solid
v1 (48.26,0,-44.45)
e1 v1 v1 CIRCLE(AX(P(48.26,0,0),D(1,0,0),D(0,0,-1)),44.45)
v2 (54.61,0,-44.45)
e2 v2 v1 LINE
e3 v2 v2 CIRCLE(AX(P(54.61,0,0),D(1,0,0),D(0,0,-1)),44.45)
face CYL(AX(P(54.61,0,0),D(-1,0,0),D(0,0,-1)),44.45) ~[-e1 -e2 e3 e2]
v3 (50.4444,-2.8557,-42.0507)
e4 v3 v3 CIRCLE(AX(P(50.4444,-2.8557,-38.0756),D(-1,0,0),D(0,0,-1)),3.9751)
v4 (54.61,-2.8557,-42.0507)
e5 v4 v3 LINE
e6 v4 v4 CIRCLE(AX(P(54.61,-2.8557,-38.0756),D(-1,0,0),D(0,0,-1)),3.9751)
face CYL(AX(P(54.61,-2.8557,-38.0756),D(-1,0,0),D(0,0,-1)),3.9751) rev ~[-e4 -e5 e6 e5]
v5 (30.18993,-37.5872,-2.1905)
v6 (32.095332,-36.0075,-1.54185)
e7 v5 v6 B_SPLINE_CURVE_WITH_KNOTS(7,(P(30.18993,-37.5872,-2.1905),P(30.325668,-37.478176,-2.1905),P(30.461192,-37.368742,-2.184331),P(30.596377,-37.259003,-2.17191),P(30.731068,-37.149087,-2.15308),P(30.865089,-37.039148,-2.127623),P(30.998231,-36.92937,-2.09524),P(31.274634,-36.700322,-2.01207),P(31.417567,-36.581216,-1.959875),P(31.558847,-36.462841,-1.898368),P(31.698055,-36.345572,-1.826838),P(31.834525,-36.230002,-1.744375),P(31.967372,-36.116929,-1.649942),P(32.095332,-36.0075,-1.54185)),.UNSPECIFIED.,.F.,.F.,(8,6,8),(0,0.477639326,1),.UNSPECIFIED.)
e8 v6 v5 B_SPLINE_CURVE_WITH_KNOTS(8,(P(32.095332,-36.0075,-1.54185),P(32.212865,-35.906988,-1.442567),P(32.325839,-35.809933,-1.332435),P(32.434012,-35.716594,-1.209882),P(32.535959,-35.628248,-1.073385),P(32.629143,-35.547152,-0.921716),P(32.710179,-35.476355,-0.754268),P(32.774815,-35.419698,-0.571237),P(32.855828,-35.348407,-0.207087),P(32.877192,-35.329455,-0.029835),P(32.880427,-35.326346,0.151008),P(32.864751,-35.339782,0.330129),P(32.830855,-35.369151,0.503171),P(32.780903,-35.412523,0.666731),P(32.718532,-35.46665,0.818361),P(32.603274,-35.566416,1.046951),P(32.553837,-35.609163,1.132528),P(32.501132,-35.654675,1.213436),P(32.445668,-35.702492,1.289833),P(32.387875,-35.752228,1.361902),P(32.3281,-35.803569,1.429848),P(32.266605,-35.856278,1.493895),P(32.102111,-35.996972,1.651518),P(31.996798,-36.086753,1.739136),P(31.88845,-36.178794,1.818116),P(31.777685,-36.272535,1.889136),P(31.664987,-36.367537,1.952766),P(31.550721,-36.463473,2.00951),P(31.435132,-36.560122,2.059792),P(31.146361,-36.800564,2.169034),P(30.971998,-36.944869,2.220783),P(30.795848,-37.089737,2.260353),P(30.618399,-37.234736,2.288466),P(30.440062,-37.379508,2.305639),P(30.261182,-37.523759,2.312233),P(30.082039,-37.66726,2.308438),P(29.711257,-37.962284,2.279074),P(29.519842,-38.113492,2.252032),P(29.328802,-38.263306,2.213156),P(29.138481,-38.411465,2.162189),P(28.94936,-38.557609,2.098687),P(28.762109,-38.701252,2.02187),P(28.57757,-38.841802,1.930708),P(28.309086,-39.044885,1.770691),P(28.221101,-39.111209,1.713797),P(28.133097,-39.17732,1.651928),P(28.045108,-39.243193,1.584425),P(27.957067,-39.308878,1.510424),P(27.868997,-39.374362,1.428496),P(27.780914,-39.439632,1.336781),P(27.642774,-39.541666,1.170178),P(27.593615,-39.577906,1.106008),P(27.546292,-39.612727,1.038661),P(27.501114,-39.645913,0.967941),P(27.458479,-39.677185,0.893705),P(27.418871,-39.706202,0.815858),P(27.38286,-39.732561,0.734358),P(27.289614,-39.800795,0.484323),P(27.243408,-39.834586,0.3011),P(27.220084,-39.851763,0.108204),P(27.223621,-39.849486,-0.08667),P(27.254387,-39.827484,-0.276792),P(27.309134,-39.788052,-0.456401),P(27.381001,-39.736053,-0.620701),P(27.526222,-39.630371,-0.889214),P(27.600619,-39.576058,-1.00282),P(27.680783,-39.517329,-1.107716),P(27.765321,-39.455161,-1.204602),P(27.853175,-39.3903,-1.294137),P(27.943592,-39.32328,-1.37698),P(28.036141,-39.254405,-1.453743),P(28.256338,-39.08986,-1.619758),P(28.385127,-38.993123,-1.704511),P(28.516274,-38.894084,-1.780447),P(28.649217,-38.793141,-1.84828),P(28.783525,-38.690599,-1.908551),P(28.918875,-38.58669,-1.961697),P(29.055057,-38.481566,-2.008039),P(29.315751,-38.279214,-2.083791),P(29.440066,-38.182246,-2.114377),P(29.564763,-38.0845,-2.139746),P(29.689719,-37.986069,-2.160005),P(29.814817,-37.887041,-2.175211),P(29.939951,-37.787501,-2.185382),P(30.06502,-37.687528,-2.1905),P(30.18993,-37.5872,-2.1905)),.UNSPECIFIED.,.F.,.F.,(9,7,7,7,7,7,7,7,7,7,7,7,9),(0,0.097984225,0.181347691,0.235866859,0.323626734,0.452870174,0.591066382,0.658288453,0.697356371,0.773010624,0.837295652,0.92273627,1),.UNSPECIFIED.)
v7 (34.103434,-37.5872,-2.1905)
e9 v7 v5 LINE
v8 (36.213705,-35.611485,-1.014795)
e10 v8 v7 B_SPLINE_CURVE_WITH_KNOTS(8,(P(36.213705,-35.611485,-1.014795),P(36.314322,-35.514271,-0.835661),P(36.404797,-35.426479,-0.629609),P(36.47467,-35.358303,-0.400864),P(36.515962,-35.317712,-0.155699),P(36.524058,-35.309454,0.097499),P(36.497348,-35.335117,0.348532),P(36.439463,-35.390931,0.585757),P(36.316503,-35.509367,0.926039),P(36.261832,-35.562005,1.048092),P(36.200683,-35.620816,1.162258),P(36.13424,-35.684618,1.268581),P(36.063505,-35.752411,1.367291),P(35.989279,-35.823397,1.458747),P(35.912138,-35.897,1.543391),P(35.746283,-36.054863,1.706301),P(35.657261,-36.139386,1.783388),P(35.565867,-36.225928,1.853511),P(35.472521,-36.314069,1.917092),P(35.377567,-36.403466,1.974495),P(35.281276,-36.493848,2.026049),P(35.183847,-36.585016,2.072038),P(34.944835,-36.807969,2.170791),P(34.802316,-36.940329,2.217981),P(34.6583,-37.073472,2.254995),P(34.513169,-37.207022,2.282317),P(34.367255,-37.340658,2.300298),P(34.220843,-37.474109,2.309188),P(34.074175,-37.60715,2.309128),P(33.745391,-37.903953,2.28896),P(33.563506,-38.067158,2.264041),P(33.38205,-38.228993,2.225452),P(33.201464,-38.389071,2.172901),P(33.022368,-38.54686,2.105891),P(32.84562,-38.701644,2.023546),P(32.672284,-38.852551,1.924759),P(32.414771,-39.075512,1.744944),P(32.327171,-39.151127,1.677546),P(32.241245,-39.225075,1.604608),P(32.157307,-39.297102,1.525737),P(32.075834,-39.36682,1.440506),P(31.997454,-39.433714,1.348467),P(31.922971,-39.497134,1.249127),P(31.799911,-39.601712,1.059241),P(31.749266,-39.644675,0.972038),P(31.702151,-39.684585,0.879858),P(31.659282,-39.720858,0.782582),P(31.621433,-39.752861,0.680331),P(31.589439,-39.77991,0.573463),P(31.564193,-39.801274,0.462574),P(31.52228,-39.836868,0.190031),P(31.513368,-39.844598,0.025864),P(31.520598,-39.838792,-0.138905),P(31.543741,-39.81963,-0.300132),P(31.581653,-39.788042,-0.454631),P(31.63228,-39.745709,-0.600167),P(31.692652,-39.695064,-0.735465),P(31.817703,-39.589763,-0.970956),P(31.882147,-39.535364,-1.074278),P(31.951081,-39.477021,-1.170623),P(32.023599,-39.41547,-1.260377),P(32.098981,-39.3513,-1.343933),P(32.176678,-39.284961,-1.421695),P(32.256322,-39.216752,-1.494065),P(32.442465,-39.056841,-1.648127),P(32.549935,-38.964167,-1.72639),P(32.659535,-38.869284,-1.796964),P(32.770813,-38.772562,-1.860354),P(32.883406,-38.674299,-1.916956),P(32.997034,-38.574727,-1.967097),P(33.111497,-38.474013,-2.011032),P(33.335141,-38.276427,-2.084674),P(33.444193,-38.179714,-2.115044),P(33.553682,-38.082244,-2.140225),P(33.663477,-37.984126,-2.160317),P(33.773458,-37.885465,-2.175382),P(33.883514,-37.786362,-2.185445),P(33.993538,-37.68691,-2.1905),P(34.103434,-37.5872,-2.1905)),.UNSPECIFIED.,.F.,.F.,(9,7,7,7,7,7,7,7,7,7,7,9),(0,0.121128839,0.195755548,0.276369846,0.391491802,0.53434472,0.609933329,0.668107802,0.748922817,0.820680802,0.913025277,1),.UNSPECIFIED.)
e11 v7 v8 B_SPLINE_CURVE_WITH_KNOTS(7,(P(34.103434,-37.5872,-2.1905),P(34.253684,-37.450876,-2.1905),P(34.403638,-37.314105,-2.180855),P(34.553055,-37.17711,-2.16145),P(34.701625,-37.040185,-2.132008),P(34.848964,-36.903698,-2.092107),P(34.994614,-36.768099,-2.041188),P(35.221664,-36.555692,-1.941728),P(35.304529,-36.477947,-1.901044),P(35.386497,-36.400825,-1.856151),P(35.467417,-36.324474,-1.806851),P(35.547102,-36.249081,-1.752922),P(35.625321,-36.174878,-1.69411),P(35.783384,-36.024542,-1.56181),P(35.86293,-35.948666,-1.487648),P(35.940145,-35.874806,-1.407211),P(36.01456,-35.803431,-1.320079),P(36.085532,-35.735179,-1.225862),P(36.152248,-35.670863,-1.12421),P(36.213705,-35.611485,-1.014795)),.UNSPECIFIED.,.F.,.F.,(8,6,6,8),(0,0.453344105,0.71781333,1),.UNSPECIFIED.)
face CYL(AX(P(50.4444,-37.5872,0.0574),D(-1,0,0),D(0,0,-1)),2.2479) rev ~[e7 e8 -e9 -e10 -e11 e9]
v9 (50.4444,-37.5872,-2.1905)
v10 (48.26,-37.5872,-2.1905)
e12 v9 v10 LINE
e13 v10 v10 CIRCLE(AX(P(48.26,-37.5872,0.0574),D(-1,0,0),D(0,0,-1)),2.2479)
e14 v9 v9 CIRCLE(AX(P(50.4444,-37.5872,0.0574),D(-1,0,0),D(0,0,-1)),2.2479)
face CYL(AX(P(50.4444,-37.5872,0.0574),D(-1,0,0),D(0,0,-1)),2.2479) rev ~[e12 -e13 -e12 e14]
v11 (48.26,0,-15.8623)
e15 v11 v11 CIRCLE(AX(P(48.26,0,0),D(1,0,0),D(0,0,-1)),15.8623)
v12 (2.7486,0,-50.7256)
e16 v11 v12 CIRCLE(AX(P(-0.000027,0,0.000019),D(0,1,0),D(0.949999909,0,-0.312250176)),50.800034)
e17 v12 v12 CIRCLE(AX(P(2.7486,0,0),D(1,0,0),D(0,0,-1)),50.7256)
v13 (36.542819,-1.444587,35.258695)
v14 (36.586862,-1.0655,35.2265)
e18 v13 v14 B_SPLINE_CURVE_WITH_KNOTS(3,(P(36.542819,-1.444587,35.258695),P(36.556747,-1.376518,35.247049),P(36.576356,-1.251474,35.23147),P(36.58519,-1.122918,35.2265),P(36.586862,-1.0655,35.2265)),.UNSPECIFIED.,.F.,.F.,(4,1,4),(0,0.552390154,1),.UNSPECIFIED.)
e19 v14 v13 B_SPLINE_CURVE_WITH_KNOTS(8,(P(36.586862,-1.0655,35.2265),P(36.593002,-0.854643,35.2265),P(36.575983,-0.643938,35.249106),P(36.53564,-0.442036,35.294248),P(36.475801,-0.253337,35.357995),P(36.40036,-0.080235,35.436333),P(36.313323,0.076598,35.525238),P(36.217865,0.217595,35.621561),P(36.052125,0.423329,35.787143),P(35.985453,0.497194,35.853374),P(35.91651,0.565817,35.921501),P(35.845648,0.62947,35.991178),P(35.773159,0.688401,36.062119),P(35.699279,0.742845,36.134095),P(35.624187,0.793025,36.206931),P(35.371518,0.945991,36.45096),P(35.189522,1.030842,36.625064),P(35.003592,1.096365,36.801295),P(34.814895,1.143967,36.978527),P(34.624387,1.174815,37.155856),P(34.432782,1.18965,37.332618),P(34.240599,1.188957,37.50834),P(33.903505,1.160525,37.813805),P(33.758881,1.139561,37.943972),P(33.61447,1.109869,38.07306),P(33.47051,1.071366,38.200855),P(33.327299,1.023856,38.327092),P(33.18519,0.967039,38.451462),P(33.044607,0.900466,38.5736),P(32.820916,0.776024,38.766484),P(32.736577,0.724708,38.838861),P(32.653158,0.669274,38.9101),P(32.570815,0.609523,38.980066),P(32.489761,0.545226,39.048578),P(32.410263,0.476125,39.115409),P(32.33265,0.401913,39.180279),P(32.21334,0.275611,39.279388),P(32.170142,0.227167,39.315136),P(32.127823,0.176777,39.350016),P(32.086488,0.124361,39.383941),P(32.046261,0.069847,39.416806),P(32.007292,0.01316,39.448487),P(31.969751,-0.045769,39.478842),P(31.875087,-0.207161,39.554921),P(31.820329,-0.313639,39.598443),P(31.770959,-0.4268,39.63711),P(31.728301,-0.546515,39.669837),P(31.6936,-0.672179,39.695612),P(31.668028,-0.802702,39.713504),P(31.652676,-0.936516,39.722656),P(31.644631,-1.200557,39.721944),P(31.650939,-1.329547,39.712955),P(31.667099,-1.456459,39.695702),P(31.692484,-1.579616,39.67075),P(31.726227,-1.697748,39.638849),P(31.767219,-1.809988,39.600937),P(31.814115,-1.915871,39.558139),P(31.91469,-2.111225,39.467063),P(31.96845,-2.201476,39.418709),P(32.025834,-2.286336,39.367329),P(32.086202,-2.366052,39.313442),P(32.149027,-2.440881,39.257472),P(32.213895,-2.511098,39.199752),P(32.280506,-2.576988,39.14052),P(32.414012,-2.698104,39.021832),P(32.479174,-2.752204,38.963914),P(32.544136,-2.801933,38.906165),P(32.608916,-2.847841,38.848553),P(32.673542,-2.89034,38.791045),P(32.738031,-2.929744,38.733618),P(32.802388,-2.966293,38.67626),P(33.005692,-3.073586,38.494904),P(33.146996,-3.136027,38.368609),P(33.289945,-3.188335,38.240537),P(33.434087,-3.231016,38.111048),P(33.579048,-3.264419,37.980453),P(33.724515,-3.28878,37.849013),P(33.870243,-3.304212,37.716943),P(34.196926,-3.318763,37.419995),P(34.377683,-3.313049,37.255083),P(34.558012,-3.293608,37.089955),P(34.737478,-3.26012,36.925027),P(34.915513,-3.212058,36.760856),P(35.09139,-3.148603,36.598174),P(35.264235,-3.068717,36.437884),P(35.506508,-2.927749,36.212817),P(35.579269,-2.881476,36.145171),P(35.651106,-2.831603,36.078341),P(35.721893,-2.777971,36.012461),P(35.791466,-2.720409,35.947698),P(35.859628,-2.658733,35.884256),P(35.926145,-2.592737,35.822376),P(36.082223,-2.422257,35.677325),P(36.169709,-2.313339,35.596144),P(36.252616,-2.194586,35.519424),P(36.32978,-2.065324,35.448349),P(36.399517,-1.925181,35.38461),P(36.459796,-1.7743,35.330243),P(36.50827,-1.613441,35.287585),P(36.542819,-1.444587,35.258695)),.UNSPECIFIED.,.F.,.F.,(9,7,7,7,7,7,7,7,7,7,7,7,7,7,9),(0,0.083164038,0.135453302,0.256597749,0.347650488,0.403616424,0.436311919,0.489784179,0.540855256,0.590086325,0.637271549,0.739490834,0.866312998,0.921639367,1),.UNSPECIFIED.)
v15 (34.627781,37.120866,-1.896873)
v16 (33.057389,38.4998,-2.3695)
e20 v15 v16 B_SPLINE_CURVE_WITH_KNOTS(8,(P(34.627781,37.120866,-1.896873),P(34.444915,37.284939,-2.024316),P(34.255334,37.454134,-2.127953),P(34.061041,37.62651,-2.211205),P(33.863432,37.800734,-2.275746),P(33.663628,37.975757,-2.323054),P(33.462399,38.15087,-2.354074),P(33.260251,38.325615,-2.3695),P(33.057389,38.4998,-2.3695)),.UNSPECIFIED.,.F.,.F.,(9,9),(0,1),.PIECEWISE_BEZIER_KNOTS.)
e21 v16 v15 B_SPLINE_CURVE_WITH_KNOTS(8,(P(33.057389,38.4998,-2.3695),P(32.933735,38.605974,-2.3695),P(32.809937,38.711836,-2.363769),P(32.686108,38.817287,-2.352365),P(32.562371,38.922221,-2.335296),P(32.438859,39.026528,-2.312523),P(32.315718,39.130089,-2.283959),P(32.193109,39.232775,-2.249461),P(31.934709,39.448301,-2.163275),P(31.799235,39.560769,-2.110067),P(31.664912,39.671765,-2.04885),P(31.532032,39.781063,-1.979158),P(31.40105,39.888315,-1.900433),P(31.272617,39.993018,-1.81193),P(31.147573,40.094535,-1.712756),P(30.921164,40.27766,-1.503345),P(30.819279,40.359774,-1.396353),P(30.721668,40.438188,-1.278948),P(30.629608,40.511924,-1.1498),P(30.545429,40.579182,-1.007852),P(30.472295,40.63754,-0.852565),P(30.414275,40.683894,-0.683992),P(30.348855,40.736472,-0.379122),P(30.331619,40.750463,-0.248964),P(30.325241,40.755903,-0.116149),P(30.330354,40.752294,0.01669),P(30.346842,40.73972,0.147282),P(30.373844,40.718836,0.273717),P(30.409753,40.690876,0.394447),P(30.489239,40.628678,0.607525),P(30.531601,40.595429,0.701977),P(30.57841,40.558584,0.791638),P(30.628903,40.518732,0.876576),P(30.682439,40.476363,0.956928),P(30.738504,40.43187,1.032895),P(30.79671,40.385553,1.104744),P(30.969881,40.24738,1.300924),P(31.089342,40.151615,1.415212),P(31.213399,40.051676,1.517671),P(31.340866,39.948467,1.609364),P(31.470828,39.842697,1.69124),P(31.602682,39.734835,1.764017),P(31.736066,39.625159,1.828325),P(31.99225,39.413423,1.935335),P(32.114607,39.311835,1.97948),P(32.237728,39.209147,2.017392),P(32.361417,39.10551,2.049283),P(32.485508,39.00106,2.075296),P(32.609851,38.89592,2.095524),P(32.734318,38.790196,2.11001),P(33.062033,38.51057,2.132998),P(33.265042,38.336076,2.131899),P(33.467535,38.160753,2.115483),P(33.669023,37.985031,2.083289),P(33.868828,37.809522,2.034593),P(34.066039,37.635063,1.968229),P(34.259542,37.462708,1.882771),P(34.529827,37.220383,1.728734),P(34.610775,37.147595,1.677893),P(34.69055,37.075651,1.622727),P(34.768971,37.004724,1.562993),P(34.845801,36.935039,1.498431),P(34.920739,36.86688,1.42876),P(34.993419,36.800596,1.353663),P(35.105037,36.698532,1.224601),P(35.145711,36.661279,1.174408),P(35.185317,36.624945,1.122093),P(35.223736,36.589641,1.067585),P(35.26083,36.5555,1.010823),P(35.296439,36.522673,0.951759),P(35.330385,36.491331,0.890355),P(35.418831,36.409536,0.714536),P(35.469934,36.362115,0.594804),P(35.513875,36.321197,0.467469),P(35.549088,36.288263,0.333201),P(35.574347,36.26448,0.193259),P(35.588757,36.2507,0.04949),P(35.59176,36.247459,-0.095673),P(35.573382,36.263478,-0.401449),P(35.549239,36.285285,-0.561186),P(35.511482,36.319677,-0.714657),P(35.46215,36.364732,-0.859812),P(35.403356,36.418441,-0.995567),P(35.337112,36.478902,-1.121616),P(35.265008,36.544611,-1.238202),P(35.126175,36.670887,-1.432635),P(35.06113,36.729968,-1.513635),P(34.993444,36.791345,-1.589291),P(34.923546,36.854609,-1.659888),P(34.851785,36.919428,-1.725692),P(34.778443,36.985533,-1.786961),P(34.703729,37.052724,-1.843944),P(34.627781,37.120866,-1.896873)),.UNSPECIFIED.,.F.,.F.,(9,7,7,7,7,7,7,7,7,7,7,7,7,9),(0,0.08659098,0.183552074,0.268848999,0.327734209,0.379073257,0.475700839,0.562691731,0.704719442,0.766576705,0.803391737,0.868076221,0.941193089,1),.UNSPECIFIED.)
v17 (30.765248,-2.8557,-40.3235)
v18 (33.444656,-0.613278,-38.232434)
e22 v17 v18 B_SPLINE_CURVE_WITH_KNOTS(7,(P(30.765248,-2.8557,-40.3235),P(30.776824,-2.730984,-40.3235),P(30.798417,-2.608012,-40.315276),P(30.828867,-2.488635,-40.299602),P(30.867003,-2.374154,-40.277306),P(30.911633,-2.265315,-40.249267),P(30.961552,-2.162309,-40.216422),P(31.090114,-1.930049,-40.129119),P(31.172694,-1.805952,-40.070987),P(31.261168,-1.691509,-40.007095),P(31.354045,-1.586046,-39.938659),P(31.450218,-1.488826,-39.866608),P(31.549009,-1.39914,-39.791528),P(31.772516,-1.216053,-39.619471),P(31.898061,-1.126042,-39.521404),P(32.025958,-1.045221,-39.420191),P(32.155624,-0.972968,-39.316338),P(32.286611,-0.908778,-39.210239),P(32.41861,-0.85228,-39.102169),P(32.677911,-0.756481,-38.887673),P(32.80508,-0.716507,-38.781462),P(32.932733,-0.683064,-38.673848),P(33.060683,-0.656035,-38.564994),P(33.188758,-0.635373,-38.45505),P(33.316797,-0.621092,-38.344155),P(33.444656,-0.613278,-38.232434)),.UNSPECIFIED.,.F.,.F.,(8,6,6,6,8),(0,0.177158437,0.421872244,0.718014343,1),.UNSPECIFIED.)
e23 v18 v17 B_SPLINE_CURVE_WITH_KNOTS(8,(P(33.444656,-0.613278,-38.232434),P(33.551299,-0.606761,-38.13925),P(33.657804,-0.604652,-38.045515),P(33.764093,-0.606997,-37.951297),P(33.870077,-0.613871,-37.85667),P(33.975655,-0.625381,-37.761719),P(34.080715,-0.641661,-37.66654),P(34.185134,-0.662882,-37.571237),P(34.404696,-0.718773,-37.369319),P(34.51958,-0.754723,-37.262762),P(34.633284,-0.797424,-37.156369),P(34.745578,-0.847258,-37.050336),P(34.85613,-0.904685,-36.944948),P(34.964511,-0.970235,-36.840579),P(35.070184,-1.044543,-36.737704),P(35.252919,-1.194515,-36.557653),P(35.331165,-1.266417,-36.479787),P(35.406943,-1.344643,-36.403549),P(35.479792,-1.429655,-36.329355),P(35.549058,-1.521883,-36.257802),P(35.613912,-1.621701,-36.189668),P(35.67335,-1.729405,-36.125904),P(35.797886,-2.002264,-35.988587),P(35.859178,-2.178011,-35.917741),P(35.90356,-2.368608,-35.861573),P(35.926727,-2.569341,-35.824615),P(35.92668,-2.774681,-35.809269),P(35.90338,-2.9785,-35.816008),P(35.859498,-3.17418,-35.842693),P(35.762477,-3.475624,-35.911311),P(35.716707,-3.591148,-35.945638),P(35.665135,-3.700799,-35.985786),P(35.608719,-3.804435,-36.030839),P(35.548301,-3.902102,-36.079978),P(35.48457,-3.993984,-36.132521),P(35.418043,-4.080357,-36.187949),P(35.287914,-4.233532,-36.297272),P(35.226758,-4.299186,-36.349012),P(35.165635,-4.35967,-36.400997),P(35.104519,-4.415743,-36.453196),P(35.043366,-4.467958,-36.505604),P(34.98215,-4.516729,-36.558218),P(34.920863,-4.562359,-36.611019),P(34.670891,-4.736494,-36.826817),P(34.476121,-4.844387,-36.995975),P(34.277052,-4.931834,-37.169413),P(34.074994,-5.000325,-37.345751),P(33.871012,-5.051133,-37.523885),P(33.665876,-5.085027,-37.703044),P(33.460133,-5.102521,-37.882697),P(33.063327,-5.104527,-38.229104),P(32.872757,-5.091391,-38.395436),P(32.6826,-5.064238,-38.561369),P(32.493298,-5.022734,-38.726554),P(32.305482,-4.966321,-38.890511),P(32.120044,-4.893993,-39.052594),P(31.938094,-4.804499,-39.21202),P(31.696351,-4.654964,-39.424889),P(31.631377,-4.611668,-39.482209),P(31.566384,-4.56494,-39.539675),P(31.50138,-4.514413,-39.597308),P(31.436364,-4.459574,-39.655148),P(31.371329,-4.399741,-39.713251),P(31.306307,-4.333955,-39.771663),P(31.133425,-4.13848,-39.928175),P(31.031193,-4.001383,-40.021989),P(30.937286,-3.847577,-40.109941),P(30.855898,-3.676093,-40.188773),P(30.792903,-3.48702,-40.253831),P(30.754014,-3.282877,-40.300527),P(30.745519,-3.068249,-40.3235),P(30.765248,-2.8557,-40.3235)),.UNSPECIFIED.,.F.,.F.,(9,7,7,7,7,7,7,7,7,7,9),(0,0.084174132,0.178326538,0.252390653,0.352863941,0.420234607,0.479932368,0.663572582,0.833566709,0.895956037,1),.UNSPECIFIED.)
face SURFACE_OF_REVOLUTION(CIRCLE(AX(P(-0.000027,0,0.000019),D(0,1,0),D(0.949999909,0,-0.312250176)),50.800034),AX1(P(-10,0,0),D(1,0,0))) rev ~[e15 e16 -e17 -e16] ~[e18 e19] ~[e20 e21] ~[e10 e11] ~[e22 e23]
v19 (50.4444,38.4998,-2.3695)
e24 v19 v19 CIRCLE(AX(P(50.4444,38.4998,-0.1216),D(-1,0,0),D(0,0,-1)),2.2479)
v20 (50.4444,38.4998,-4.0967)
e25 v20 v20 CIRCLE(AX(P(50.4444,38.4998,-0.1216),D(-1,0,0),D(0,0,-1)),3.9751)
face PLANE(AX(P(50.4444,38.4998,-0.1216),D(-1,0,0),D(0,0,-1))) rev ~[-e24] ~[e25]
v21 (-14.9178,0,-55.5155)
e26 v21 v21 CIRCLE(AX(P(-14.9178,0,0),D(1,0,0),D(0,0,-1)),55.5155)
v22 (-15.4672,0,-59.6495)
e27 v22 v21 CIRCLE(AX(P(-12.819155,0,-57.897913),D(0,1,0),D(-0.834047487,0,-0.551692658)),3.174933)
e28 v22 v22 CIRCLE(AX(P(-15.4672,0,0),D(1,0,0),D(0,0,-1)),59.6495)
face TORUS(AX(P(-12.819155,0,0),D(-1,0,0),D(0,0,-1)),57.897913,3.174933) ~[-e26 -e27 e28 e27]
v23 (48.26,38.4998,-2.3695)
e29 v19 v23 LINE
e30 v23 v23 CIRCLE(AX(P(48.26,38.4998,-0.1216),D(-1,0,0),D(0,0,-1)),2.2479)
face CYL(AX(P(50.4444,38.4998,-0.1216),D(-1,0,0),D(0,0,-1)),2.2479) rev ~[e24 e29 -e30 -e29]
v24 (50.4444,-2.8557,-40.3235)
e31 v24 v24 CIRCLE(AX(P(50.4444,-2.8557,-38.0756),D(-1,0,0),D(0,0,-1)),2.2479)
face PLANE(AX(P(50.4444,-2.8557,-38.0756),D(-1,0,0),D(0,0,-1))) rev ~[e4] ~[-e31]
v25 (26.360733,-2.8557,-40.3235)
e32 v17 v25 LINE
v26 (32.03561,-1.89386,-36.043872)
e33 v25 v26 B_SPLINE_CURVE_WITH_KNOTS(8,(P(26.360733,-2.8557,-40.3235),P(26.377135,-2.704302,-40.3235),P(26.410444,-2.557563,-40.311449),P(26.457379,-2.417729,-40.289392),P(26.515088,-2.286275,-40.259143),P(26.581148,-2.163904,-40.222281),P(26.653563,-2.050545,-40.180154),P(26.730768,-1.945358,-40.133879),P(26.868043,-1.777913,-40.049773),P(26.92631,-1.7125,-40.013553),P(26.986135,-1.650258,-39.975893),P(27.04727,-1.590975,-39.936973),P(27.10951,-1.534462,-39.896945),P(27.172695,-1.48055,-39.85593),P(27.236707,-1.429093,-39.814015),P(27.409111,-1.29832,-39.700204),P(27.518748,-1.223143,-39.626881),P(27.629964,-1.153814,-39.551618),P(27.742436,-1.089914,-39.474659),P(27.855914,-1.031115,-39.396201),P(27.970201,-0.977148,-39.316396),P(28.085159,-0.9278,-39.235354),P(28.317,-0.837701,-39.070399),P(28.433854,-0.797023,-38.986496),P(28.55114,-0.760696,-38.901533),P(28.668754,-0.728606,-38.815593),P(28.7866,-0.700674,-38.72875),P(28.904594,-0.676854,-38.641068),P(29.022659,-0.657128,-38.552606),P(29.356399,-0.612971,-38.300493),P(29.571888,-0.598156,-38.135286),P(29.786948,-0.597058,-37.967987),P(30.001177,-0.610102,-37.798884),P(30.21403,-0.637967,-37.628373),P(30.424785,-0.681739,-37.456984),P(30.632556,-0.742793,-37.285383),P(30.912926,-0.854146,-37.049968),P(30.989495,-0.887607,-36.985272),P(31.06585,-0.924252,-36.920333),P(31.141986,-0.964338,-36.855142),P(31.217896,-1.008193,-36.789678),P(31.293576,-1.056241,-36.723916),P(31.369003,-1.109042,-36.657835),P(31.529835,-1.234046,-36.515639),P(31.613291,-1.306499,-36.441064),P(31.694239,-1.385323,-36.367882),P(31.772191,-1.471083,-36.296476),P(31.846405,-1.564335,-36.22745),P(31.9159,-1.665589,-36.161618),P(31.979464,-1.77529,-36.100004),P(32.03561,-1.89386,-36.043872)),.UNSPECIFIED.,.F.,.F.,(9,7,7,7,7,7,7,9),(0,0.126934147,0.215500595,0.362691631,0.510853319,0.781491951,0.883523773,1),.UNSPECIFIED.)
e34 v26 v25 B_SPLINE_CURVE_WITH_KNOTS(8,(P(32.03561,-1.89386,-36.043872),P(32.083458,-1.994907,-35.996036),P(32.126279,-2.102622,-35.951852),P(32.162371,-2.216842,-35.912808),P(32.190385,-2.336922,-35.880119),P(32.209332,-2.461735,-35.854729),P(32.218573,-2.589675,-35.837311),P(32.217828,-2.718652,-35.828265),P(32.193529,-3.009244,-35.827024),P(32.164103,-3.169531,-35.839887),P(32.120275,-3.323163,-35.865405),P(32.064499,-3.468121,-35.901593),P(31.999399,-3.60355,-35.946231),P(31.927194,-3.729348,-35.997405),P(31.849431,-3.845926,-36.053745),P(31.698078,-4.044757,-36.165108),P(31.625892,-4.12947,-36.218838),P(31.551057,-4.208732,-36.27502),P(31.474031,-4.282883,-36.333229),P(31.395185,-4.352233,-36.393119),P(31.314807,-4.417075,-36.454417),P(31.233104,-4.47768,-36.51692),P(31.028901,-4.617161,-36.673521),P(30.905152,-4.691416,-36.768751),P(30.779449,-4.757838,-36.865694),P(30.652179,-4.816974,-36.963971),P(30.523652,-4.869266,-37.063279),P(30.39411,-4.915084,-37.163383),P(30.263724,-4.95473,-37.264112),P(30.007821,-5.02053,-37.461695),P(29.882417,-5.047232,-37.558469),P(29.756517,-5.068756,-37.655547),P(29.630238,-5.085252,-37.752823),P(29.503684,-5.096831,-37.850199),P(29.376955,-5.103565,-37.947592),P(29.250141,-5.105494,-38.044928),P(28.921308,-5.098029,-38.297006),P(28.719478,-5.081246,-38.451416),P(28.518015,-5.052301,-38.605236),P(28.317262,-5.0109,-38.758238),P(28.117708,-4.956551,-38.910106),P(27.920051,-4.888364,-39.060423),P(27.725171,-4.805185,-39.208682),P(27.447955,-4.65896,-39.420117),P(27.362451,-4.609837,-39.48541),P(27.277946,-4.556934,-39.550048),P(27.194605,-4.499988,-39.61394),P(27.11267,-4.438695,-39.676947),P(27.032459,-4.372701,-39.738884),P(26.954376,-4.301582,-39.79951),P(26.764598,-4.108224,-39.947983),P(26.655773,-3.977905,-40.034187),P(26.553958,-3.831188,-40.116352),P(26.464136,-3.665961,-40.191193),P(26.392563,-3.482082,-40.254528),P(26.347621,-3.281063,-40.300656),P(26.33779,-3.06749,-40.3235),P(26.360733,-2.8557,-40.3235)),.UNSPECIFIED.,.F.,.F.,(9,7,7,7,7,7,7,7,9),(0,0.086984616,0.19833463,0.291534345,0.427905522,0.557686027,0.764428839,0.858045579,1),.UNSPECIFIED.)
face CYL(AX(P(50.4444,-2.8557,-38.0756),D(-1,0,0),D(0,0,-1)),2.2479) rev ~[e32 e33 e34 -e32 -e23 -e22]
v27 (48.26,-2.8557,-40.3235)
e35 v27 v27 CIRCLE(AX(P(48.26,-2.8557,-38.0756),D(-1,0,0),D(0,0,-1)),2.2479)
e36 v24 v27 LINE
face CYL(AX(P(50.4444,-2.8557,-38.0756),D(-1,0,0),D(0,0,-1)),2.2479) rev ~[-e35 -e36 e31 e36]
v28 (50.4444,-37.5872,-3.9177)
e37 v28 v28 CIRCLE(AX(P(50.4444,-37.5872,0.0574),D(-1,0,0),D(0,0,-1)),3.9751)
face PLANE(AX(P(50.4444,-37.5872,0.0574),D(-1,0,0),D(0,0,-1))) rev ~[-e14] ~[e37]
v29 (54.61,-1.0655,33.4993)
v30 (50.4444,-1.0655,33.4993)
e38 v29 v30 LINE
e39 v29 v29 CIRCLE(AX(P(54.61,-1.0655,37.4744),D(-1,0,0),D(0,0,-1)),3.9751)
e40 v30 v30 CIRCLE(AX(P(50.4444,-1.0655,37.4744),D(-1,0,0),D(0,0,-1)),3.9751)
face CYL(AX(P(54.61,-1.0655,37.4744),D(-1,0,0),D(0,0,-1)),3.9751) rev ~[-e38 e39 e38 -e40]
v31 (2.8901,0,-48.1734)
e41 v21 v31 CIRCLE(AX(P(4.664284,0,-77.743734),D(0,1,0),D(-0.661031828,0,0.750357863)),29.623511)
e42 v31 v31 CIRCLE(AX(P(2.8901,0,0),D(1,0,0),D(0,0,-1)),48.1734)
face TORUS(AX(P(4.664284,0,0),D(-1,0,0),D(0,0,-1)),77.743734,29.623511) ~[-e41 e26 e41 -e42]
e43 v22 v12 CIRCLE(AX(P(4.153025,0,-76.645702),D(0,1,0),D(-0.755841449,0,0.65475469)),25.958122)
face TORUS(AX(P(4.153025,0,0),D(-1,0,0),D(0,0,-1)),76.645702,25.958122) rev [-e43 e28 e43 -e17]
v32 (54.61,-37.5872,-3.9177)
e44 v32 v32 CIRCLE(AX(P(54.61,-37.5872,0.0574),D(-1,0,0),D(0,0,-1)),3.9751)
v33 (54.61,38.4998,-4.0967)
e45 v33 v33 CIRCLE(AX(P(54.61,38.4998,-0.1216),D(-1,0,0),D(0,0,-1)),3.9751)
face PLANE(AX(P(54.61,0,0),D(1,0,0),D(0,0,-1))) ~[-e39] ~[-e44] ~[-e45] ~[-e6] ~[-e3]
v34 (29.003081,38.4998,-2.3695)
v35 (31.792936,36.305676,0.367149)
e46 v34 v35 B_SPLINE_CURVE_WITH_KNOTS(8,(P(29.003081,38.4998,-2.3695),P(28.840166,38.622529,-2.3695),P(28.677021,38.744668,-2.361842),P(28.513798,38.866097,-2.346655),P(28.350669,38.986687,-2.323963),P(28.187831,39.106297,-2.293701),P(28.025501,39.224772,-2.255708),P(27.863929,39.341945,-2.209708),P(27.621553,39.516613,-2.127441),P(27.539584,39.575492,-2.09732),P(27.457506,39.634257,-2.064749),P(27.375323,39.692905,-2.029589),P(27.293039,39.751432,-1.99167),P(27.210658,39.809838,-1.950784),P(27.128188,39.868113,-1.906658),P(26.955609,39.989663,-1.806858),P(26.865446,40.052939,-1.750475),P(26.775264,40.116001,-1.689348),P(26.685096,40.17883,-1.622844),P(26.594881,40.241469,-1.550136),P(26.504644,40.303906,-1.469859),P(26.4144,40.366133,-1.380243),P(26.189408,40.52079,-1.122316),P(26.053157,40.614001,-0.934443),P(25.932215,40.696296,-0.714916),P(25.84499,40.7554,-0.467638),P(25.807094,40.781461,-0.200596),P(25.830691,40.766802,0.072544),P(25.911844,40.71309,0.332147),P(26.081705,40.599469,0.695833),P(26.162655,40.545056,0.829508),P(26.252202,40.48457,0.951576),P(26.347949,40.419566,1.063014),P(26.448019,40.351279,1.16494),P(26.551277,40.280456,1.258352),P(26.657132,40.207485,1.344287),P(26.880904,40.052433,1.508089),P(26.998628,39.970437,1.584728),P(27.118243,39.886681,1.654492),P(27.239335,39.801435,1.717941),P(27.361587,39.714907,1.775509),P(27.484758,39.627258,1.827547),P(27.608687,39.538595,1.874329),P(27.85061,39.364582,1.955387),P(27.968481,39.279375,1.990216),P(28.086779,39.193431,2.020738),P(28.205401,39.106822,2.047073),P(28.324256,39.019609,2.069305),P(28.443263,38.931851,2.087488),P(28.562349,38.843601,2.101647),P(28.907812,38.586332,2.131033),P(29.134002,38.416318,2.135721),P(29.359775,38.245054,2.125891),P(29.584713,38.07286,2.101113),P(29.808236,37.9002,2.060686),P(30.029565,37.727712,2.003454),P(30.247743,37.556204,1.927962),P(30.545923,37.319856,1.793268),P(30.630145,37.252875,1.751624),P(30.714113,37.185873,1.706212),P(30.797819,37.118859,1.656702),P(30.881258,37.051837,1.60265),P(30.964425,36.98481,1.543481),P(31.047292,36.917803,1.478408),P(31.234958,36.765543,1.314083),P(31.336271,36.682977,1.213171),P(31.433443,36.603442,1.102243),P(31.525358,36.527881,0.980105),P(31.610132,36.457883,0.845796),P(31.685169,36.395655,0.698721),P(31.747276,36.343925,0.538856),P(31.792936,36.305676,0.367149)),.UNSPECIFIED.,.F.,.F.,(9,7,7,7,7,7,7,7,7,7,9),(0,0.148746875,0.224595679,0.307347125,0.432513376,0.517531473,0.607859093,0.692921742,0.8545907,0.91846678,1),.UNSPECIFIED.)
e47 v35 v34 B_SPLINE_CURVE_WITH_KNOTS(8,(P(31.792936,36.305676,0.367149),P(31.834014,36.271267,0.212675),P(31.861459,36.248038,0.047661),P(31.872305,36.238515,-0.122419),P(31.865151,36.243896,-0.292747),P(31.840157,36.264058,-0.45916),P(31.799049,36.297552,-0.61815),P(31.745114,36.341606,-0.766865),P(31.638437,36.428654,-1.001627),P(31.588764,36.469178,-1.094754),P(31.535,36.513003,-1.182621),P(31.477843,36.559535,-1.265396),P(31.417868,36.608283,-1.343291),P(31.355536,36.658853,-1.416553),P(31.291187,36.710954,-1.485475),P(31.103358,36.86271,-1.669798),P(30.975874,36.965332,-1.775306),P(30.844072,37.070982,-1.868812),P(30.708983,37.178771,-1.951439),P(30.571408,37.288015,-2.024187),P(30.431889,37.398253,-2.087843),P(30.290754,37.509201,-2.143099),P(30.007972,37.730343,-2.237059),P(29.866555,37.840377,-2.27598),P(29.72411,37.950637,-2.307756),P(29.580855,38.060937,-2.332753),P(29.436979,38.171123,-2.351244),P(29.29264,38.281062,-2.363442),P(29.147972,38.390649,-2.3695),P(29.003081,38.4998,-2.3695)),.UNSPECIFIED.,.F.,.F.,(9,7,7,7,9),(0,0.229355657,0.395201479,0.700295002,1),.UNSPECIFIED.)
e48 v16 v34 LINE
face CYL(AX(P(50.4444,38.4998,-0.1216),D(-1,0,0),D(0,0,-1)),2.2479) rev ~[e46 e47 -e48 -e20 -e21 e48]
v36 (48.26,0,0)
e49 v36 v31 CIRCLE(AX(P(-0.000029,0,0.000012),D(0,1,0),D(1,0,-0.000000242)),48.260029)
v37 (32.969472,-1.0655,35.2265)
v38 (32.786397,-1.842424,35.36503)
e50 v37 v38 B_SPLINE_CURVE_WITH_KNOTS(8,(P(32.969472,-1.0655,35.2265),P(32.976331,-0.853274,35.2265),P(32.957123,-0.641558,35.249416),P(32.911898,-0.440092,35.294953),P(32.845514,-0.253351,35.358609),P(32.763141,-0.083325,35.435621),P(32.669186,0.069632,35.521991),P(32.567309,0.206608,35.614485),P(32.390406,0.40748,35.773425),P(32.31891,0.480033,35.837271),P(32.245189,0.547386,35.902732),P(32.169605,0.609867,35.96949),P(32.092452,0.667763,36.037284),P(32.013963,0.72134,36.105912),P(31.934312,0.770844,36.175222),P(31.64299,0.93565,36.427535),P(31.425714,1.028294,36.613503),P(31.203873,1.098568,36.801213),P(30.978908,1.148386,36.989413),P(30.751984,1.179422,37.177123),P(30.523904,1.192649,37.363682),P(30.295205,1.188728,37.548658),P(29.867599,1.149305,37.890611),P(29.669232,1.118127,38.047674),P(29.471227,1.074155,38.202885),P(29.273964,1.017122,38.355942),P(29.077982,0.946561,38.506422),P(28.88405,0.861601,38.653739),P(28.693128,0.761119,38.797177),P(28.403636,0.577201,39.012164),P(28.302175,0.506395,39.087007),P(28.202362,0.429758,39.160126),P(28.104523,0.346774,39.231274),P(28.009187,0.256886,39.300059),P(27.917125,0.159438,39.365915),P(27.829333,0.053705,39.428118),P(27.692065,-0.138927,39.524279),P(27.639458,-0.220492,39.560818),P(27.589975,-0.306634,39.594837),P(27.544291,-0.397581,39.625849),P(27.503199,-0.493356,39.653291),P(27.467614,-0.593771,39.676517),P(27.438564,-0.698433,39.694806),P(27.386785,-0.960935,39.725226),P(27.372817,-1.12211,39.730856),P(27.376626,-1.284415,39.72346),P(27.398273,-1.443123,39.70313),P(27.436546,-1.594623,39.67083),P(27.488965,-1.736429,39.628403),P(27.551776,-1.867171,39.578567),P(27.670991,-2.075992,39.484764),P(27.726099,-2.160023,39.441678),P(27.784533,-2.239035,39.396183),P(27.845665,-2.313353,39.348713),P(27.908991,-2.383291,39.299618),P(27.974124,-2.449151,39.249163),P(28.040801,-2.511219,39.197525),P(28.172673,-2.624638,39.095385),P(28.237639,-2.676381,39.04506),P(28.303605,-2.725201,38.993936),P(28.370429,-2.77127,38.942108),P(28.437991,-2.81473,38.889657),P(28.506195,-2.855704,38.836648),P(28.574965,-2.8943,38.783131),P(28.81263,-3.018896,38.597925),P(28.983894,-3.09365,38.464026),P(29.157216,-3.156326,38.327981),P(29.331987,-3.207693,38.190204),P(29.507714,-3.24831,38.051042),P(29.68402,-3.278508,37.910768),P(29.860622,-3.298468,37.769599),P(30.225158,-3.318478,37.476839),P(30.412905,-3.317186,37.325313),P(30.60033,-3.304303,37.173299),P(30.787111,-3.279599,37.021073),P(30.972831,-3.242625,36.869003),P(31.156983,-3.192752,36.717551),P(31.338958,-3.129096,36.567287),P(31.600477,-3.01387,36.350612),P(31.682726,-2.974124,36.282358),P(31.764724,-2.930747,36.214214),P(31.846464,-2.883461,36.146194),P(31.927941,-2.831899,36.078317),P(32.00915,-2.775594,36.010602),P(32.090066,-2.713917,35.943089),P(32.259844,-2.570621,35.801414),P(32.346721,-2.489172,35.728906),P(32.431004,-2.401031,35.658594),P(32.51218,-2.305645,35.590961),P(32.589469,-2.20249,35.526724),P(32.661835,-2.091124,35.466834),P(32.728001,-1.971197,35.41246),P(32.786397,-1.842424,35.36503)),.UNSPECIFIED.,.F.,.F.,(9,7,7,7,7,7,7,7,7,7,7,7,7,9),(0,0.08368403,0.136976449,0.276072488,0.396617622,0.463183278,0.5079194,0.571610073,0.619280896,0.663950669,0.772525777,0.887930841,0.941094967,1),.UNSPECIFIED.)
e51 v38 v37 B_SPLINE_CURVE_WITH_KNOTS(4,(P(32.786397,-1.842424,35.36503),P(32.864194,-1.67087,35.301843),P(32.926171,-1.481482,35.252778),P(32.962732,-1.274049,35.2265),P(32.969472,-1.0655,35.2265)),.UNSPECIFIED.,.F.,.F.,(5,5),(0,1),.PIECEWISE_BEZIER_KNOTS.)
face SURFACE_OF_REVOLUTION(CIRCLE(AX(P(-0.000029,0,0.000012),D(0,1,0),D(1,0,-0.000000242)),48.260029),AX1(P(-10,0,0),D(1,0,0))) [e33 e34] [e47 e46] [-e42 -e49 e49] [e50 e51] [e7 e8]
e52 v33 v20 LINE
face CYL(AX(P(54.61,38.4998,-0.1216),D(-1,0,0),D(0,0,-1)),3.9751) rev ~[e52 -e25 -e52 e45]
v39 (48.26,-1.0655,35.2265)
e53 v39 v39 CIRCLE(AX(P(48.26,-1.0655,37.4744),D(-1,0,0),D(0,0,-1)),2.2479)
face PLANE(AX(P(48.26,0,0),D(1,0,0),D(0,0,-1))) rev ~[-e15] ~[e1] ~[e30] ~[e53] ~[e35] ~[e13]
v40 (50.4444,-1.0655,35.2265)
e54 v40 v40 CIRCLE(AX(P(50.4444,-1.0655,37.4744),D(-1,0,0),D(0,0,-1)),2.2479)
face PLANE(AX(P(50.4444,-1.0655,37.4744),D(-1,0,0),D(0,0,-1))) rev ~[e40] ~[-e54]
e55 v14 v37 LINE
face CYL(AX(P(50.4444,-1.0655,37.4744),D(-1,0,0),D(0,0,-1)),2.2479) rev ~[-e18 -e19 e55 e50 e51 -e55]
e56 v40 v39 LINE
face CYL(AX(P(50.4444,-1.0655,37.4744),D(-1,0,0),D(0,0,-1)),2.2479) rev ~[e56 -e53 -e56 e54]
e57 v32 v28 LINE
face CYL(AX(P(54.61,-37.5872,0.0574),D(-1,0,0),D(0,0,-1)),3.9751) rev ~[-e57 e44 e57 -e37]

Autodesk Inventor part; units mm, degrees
ref_plane "YZ Plane" through (0, 0, 0) normal (1, 0, 0) x (0, 1, 0)
ref_plane "XZ Plane" through (0, 0, 0) normal (0, 1, 0) x (-1, 0, 0)
ref_plane "XY Plane" through (0, 0, 0) normal (0, 0, 1) x (1, 0, 0)
sketch "Sketch1" plane through (0, 0, 0) normal (0, 1, 0) x (-1, 0, 0)
  arc A0 (-48.26, 0) -> (-2.8901, -48.1734) centre (0, 0) ccw
  line L0 (0, 0) -> (2.3486, 0) construction
  arc A1 (-48.26, -15.8623) -> (-2.7486, -50.7256) centre (0, 0) ccw
  arc A2 (15.4672, -59.6495) -> (-2.7486, -50.7256) centre (-4.1531, -76.6458) ccw
  arc A3 (14.9178, -55.5155) -> (-2.8901, -48.1734) centre (-4.6642, -77.7436) ccw
  arc A4 (15.4672, -59.6495) -> (14.9178, -55.5155) centre (12.8191, -57.8979) ccw
  line L1 (31.2133, 0) -> (-72.6552, 0) projected
  line L2 (-48.26, 0) -> (-54.61, 0)
  line L3 (-54.61, 0) -> (-54.61, -44.45)
  line L4 (-54.61, -44.45) -> (-48.26, -44.45)
  line L5 (-48.26, -44.45) -> (-48.26, -15.8623)
  point P0 (-50.8, 0)
  dimension "d0" = 48.26
  dimension "d2" = 2.54
  dimension "d3" = 3.175
  dimension "d13" = 6.35
  dimension "d14" = 44.45
  dimension "d15" = 25.9583
  dimension "d16" = 29.6234
  dimension "d17" = 59.6495
  dimension "d18" = 55.5155
  dimension "d19" = 57.8979
  dimension "d20" = 50.6086
  dimension "d21" = 2.54
revolve "Revolution1" add sketch "Sketch1" angle 360 about axis through (-10, 0, 0) along (1, 0, 0)
hole "Hole1" at (54.61, -2.8557, -38.0756) direction (-1, 0, 0) diameter 4.4958 end through all counterbore diameter 7.9502 counterbore depth 4.1656
hole "Hole2" at (54.61, -1.0655, 37.4744) direction (-1, 0, 0) diameter 4.4958 end through all counterbore diameter 7.9502 counterbore depth 4.1656
hole "Hole3" at (54.61, -37.5872, 0.0574) direction (-1, 0, 0) diameter 4.4958 end through all counterbore diameter 7.9502 counterbore depth 4.1656
hole "Hole4" at (54.61, 38.4998, -0.1216) direction (-1, 0, 0) diameter 4.4958 end through all counterbore diameter 7.9502 counterbore depth 4.1656
properties part number "Launcher Cup"
